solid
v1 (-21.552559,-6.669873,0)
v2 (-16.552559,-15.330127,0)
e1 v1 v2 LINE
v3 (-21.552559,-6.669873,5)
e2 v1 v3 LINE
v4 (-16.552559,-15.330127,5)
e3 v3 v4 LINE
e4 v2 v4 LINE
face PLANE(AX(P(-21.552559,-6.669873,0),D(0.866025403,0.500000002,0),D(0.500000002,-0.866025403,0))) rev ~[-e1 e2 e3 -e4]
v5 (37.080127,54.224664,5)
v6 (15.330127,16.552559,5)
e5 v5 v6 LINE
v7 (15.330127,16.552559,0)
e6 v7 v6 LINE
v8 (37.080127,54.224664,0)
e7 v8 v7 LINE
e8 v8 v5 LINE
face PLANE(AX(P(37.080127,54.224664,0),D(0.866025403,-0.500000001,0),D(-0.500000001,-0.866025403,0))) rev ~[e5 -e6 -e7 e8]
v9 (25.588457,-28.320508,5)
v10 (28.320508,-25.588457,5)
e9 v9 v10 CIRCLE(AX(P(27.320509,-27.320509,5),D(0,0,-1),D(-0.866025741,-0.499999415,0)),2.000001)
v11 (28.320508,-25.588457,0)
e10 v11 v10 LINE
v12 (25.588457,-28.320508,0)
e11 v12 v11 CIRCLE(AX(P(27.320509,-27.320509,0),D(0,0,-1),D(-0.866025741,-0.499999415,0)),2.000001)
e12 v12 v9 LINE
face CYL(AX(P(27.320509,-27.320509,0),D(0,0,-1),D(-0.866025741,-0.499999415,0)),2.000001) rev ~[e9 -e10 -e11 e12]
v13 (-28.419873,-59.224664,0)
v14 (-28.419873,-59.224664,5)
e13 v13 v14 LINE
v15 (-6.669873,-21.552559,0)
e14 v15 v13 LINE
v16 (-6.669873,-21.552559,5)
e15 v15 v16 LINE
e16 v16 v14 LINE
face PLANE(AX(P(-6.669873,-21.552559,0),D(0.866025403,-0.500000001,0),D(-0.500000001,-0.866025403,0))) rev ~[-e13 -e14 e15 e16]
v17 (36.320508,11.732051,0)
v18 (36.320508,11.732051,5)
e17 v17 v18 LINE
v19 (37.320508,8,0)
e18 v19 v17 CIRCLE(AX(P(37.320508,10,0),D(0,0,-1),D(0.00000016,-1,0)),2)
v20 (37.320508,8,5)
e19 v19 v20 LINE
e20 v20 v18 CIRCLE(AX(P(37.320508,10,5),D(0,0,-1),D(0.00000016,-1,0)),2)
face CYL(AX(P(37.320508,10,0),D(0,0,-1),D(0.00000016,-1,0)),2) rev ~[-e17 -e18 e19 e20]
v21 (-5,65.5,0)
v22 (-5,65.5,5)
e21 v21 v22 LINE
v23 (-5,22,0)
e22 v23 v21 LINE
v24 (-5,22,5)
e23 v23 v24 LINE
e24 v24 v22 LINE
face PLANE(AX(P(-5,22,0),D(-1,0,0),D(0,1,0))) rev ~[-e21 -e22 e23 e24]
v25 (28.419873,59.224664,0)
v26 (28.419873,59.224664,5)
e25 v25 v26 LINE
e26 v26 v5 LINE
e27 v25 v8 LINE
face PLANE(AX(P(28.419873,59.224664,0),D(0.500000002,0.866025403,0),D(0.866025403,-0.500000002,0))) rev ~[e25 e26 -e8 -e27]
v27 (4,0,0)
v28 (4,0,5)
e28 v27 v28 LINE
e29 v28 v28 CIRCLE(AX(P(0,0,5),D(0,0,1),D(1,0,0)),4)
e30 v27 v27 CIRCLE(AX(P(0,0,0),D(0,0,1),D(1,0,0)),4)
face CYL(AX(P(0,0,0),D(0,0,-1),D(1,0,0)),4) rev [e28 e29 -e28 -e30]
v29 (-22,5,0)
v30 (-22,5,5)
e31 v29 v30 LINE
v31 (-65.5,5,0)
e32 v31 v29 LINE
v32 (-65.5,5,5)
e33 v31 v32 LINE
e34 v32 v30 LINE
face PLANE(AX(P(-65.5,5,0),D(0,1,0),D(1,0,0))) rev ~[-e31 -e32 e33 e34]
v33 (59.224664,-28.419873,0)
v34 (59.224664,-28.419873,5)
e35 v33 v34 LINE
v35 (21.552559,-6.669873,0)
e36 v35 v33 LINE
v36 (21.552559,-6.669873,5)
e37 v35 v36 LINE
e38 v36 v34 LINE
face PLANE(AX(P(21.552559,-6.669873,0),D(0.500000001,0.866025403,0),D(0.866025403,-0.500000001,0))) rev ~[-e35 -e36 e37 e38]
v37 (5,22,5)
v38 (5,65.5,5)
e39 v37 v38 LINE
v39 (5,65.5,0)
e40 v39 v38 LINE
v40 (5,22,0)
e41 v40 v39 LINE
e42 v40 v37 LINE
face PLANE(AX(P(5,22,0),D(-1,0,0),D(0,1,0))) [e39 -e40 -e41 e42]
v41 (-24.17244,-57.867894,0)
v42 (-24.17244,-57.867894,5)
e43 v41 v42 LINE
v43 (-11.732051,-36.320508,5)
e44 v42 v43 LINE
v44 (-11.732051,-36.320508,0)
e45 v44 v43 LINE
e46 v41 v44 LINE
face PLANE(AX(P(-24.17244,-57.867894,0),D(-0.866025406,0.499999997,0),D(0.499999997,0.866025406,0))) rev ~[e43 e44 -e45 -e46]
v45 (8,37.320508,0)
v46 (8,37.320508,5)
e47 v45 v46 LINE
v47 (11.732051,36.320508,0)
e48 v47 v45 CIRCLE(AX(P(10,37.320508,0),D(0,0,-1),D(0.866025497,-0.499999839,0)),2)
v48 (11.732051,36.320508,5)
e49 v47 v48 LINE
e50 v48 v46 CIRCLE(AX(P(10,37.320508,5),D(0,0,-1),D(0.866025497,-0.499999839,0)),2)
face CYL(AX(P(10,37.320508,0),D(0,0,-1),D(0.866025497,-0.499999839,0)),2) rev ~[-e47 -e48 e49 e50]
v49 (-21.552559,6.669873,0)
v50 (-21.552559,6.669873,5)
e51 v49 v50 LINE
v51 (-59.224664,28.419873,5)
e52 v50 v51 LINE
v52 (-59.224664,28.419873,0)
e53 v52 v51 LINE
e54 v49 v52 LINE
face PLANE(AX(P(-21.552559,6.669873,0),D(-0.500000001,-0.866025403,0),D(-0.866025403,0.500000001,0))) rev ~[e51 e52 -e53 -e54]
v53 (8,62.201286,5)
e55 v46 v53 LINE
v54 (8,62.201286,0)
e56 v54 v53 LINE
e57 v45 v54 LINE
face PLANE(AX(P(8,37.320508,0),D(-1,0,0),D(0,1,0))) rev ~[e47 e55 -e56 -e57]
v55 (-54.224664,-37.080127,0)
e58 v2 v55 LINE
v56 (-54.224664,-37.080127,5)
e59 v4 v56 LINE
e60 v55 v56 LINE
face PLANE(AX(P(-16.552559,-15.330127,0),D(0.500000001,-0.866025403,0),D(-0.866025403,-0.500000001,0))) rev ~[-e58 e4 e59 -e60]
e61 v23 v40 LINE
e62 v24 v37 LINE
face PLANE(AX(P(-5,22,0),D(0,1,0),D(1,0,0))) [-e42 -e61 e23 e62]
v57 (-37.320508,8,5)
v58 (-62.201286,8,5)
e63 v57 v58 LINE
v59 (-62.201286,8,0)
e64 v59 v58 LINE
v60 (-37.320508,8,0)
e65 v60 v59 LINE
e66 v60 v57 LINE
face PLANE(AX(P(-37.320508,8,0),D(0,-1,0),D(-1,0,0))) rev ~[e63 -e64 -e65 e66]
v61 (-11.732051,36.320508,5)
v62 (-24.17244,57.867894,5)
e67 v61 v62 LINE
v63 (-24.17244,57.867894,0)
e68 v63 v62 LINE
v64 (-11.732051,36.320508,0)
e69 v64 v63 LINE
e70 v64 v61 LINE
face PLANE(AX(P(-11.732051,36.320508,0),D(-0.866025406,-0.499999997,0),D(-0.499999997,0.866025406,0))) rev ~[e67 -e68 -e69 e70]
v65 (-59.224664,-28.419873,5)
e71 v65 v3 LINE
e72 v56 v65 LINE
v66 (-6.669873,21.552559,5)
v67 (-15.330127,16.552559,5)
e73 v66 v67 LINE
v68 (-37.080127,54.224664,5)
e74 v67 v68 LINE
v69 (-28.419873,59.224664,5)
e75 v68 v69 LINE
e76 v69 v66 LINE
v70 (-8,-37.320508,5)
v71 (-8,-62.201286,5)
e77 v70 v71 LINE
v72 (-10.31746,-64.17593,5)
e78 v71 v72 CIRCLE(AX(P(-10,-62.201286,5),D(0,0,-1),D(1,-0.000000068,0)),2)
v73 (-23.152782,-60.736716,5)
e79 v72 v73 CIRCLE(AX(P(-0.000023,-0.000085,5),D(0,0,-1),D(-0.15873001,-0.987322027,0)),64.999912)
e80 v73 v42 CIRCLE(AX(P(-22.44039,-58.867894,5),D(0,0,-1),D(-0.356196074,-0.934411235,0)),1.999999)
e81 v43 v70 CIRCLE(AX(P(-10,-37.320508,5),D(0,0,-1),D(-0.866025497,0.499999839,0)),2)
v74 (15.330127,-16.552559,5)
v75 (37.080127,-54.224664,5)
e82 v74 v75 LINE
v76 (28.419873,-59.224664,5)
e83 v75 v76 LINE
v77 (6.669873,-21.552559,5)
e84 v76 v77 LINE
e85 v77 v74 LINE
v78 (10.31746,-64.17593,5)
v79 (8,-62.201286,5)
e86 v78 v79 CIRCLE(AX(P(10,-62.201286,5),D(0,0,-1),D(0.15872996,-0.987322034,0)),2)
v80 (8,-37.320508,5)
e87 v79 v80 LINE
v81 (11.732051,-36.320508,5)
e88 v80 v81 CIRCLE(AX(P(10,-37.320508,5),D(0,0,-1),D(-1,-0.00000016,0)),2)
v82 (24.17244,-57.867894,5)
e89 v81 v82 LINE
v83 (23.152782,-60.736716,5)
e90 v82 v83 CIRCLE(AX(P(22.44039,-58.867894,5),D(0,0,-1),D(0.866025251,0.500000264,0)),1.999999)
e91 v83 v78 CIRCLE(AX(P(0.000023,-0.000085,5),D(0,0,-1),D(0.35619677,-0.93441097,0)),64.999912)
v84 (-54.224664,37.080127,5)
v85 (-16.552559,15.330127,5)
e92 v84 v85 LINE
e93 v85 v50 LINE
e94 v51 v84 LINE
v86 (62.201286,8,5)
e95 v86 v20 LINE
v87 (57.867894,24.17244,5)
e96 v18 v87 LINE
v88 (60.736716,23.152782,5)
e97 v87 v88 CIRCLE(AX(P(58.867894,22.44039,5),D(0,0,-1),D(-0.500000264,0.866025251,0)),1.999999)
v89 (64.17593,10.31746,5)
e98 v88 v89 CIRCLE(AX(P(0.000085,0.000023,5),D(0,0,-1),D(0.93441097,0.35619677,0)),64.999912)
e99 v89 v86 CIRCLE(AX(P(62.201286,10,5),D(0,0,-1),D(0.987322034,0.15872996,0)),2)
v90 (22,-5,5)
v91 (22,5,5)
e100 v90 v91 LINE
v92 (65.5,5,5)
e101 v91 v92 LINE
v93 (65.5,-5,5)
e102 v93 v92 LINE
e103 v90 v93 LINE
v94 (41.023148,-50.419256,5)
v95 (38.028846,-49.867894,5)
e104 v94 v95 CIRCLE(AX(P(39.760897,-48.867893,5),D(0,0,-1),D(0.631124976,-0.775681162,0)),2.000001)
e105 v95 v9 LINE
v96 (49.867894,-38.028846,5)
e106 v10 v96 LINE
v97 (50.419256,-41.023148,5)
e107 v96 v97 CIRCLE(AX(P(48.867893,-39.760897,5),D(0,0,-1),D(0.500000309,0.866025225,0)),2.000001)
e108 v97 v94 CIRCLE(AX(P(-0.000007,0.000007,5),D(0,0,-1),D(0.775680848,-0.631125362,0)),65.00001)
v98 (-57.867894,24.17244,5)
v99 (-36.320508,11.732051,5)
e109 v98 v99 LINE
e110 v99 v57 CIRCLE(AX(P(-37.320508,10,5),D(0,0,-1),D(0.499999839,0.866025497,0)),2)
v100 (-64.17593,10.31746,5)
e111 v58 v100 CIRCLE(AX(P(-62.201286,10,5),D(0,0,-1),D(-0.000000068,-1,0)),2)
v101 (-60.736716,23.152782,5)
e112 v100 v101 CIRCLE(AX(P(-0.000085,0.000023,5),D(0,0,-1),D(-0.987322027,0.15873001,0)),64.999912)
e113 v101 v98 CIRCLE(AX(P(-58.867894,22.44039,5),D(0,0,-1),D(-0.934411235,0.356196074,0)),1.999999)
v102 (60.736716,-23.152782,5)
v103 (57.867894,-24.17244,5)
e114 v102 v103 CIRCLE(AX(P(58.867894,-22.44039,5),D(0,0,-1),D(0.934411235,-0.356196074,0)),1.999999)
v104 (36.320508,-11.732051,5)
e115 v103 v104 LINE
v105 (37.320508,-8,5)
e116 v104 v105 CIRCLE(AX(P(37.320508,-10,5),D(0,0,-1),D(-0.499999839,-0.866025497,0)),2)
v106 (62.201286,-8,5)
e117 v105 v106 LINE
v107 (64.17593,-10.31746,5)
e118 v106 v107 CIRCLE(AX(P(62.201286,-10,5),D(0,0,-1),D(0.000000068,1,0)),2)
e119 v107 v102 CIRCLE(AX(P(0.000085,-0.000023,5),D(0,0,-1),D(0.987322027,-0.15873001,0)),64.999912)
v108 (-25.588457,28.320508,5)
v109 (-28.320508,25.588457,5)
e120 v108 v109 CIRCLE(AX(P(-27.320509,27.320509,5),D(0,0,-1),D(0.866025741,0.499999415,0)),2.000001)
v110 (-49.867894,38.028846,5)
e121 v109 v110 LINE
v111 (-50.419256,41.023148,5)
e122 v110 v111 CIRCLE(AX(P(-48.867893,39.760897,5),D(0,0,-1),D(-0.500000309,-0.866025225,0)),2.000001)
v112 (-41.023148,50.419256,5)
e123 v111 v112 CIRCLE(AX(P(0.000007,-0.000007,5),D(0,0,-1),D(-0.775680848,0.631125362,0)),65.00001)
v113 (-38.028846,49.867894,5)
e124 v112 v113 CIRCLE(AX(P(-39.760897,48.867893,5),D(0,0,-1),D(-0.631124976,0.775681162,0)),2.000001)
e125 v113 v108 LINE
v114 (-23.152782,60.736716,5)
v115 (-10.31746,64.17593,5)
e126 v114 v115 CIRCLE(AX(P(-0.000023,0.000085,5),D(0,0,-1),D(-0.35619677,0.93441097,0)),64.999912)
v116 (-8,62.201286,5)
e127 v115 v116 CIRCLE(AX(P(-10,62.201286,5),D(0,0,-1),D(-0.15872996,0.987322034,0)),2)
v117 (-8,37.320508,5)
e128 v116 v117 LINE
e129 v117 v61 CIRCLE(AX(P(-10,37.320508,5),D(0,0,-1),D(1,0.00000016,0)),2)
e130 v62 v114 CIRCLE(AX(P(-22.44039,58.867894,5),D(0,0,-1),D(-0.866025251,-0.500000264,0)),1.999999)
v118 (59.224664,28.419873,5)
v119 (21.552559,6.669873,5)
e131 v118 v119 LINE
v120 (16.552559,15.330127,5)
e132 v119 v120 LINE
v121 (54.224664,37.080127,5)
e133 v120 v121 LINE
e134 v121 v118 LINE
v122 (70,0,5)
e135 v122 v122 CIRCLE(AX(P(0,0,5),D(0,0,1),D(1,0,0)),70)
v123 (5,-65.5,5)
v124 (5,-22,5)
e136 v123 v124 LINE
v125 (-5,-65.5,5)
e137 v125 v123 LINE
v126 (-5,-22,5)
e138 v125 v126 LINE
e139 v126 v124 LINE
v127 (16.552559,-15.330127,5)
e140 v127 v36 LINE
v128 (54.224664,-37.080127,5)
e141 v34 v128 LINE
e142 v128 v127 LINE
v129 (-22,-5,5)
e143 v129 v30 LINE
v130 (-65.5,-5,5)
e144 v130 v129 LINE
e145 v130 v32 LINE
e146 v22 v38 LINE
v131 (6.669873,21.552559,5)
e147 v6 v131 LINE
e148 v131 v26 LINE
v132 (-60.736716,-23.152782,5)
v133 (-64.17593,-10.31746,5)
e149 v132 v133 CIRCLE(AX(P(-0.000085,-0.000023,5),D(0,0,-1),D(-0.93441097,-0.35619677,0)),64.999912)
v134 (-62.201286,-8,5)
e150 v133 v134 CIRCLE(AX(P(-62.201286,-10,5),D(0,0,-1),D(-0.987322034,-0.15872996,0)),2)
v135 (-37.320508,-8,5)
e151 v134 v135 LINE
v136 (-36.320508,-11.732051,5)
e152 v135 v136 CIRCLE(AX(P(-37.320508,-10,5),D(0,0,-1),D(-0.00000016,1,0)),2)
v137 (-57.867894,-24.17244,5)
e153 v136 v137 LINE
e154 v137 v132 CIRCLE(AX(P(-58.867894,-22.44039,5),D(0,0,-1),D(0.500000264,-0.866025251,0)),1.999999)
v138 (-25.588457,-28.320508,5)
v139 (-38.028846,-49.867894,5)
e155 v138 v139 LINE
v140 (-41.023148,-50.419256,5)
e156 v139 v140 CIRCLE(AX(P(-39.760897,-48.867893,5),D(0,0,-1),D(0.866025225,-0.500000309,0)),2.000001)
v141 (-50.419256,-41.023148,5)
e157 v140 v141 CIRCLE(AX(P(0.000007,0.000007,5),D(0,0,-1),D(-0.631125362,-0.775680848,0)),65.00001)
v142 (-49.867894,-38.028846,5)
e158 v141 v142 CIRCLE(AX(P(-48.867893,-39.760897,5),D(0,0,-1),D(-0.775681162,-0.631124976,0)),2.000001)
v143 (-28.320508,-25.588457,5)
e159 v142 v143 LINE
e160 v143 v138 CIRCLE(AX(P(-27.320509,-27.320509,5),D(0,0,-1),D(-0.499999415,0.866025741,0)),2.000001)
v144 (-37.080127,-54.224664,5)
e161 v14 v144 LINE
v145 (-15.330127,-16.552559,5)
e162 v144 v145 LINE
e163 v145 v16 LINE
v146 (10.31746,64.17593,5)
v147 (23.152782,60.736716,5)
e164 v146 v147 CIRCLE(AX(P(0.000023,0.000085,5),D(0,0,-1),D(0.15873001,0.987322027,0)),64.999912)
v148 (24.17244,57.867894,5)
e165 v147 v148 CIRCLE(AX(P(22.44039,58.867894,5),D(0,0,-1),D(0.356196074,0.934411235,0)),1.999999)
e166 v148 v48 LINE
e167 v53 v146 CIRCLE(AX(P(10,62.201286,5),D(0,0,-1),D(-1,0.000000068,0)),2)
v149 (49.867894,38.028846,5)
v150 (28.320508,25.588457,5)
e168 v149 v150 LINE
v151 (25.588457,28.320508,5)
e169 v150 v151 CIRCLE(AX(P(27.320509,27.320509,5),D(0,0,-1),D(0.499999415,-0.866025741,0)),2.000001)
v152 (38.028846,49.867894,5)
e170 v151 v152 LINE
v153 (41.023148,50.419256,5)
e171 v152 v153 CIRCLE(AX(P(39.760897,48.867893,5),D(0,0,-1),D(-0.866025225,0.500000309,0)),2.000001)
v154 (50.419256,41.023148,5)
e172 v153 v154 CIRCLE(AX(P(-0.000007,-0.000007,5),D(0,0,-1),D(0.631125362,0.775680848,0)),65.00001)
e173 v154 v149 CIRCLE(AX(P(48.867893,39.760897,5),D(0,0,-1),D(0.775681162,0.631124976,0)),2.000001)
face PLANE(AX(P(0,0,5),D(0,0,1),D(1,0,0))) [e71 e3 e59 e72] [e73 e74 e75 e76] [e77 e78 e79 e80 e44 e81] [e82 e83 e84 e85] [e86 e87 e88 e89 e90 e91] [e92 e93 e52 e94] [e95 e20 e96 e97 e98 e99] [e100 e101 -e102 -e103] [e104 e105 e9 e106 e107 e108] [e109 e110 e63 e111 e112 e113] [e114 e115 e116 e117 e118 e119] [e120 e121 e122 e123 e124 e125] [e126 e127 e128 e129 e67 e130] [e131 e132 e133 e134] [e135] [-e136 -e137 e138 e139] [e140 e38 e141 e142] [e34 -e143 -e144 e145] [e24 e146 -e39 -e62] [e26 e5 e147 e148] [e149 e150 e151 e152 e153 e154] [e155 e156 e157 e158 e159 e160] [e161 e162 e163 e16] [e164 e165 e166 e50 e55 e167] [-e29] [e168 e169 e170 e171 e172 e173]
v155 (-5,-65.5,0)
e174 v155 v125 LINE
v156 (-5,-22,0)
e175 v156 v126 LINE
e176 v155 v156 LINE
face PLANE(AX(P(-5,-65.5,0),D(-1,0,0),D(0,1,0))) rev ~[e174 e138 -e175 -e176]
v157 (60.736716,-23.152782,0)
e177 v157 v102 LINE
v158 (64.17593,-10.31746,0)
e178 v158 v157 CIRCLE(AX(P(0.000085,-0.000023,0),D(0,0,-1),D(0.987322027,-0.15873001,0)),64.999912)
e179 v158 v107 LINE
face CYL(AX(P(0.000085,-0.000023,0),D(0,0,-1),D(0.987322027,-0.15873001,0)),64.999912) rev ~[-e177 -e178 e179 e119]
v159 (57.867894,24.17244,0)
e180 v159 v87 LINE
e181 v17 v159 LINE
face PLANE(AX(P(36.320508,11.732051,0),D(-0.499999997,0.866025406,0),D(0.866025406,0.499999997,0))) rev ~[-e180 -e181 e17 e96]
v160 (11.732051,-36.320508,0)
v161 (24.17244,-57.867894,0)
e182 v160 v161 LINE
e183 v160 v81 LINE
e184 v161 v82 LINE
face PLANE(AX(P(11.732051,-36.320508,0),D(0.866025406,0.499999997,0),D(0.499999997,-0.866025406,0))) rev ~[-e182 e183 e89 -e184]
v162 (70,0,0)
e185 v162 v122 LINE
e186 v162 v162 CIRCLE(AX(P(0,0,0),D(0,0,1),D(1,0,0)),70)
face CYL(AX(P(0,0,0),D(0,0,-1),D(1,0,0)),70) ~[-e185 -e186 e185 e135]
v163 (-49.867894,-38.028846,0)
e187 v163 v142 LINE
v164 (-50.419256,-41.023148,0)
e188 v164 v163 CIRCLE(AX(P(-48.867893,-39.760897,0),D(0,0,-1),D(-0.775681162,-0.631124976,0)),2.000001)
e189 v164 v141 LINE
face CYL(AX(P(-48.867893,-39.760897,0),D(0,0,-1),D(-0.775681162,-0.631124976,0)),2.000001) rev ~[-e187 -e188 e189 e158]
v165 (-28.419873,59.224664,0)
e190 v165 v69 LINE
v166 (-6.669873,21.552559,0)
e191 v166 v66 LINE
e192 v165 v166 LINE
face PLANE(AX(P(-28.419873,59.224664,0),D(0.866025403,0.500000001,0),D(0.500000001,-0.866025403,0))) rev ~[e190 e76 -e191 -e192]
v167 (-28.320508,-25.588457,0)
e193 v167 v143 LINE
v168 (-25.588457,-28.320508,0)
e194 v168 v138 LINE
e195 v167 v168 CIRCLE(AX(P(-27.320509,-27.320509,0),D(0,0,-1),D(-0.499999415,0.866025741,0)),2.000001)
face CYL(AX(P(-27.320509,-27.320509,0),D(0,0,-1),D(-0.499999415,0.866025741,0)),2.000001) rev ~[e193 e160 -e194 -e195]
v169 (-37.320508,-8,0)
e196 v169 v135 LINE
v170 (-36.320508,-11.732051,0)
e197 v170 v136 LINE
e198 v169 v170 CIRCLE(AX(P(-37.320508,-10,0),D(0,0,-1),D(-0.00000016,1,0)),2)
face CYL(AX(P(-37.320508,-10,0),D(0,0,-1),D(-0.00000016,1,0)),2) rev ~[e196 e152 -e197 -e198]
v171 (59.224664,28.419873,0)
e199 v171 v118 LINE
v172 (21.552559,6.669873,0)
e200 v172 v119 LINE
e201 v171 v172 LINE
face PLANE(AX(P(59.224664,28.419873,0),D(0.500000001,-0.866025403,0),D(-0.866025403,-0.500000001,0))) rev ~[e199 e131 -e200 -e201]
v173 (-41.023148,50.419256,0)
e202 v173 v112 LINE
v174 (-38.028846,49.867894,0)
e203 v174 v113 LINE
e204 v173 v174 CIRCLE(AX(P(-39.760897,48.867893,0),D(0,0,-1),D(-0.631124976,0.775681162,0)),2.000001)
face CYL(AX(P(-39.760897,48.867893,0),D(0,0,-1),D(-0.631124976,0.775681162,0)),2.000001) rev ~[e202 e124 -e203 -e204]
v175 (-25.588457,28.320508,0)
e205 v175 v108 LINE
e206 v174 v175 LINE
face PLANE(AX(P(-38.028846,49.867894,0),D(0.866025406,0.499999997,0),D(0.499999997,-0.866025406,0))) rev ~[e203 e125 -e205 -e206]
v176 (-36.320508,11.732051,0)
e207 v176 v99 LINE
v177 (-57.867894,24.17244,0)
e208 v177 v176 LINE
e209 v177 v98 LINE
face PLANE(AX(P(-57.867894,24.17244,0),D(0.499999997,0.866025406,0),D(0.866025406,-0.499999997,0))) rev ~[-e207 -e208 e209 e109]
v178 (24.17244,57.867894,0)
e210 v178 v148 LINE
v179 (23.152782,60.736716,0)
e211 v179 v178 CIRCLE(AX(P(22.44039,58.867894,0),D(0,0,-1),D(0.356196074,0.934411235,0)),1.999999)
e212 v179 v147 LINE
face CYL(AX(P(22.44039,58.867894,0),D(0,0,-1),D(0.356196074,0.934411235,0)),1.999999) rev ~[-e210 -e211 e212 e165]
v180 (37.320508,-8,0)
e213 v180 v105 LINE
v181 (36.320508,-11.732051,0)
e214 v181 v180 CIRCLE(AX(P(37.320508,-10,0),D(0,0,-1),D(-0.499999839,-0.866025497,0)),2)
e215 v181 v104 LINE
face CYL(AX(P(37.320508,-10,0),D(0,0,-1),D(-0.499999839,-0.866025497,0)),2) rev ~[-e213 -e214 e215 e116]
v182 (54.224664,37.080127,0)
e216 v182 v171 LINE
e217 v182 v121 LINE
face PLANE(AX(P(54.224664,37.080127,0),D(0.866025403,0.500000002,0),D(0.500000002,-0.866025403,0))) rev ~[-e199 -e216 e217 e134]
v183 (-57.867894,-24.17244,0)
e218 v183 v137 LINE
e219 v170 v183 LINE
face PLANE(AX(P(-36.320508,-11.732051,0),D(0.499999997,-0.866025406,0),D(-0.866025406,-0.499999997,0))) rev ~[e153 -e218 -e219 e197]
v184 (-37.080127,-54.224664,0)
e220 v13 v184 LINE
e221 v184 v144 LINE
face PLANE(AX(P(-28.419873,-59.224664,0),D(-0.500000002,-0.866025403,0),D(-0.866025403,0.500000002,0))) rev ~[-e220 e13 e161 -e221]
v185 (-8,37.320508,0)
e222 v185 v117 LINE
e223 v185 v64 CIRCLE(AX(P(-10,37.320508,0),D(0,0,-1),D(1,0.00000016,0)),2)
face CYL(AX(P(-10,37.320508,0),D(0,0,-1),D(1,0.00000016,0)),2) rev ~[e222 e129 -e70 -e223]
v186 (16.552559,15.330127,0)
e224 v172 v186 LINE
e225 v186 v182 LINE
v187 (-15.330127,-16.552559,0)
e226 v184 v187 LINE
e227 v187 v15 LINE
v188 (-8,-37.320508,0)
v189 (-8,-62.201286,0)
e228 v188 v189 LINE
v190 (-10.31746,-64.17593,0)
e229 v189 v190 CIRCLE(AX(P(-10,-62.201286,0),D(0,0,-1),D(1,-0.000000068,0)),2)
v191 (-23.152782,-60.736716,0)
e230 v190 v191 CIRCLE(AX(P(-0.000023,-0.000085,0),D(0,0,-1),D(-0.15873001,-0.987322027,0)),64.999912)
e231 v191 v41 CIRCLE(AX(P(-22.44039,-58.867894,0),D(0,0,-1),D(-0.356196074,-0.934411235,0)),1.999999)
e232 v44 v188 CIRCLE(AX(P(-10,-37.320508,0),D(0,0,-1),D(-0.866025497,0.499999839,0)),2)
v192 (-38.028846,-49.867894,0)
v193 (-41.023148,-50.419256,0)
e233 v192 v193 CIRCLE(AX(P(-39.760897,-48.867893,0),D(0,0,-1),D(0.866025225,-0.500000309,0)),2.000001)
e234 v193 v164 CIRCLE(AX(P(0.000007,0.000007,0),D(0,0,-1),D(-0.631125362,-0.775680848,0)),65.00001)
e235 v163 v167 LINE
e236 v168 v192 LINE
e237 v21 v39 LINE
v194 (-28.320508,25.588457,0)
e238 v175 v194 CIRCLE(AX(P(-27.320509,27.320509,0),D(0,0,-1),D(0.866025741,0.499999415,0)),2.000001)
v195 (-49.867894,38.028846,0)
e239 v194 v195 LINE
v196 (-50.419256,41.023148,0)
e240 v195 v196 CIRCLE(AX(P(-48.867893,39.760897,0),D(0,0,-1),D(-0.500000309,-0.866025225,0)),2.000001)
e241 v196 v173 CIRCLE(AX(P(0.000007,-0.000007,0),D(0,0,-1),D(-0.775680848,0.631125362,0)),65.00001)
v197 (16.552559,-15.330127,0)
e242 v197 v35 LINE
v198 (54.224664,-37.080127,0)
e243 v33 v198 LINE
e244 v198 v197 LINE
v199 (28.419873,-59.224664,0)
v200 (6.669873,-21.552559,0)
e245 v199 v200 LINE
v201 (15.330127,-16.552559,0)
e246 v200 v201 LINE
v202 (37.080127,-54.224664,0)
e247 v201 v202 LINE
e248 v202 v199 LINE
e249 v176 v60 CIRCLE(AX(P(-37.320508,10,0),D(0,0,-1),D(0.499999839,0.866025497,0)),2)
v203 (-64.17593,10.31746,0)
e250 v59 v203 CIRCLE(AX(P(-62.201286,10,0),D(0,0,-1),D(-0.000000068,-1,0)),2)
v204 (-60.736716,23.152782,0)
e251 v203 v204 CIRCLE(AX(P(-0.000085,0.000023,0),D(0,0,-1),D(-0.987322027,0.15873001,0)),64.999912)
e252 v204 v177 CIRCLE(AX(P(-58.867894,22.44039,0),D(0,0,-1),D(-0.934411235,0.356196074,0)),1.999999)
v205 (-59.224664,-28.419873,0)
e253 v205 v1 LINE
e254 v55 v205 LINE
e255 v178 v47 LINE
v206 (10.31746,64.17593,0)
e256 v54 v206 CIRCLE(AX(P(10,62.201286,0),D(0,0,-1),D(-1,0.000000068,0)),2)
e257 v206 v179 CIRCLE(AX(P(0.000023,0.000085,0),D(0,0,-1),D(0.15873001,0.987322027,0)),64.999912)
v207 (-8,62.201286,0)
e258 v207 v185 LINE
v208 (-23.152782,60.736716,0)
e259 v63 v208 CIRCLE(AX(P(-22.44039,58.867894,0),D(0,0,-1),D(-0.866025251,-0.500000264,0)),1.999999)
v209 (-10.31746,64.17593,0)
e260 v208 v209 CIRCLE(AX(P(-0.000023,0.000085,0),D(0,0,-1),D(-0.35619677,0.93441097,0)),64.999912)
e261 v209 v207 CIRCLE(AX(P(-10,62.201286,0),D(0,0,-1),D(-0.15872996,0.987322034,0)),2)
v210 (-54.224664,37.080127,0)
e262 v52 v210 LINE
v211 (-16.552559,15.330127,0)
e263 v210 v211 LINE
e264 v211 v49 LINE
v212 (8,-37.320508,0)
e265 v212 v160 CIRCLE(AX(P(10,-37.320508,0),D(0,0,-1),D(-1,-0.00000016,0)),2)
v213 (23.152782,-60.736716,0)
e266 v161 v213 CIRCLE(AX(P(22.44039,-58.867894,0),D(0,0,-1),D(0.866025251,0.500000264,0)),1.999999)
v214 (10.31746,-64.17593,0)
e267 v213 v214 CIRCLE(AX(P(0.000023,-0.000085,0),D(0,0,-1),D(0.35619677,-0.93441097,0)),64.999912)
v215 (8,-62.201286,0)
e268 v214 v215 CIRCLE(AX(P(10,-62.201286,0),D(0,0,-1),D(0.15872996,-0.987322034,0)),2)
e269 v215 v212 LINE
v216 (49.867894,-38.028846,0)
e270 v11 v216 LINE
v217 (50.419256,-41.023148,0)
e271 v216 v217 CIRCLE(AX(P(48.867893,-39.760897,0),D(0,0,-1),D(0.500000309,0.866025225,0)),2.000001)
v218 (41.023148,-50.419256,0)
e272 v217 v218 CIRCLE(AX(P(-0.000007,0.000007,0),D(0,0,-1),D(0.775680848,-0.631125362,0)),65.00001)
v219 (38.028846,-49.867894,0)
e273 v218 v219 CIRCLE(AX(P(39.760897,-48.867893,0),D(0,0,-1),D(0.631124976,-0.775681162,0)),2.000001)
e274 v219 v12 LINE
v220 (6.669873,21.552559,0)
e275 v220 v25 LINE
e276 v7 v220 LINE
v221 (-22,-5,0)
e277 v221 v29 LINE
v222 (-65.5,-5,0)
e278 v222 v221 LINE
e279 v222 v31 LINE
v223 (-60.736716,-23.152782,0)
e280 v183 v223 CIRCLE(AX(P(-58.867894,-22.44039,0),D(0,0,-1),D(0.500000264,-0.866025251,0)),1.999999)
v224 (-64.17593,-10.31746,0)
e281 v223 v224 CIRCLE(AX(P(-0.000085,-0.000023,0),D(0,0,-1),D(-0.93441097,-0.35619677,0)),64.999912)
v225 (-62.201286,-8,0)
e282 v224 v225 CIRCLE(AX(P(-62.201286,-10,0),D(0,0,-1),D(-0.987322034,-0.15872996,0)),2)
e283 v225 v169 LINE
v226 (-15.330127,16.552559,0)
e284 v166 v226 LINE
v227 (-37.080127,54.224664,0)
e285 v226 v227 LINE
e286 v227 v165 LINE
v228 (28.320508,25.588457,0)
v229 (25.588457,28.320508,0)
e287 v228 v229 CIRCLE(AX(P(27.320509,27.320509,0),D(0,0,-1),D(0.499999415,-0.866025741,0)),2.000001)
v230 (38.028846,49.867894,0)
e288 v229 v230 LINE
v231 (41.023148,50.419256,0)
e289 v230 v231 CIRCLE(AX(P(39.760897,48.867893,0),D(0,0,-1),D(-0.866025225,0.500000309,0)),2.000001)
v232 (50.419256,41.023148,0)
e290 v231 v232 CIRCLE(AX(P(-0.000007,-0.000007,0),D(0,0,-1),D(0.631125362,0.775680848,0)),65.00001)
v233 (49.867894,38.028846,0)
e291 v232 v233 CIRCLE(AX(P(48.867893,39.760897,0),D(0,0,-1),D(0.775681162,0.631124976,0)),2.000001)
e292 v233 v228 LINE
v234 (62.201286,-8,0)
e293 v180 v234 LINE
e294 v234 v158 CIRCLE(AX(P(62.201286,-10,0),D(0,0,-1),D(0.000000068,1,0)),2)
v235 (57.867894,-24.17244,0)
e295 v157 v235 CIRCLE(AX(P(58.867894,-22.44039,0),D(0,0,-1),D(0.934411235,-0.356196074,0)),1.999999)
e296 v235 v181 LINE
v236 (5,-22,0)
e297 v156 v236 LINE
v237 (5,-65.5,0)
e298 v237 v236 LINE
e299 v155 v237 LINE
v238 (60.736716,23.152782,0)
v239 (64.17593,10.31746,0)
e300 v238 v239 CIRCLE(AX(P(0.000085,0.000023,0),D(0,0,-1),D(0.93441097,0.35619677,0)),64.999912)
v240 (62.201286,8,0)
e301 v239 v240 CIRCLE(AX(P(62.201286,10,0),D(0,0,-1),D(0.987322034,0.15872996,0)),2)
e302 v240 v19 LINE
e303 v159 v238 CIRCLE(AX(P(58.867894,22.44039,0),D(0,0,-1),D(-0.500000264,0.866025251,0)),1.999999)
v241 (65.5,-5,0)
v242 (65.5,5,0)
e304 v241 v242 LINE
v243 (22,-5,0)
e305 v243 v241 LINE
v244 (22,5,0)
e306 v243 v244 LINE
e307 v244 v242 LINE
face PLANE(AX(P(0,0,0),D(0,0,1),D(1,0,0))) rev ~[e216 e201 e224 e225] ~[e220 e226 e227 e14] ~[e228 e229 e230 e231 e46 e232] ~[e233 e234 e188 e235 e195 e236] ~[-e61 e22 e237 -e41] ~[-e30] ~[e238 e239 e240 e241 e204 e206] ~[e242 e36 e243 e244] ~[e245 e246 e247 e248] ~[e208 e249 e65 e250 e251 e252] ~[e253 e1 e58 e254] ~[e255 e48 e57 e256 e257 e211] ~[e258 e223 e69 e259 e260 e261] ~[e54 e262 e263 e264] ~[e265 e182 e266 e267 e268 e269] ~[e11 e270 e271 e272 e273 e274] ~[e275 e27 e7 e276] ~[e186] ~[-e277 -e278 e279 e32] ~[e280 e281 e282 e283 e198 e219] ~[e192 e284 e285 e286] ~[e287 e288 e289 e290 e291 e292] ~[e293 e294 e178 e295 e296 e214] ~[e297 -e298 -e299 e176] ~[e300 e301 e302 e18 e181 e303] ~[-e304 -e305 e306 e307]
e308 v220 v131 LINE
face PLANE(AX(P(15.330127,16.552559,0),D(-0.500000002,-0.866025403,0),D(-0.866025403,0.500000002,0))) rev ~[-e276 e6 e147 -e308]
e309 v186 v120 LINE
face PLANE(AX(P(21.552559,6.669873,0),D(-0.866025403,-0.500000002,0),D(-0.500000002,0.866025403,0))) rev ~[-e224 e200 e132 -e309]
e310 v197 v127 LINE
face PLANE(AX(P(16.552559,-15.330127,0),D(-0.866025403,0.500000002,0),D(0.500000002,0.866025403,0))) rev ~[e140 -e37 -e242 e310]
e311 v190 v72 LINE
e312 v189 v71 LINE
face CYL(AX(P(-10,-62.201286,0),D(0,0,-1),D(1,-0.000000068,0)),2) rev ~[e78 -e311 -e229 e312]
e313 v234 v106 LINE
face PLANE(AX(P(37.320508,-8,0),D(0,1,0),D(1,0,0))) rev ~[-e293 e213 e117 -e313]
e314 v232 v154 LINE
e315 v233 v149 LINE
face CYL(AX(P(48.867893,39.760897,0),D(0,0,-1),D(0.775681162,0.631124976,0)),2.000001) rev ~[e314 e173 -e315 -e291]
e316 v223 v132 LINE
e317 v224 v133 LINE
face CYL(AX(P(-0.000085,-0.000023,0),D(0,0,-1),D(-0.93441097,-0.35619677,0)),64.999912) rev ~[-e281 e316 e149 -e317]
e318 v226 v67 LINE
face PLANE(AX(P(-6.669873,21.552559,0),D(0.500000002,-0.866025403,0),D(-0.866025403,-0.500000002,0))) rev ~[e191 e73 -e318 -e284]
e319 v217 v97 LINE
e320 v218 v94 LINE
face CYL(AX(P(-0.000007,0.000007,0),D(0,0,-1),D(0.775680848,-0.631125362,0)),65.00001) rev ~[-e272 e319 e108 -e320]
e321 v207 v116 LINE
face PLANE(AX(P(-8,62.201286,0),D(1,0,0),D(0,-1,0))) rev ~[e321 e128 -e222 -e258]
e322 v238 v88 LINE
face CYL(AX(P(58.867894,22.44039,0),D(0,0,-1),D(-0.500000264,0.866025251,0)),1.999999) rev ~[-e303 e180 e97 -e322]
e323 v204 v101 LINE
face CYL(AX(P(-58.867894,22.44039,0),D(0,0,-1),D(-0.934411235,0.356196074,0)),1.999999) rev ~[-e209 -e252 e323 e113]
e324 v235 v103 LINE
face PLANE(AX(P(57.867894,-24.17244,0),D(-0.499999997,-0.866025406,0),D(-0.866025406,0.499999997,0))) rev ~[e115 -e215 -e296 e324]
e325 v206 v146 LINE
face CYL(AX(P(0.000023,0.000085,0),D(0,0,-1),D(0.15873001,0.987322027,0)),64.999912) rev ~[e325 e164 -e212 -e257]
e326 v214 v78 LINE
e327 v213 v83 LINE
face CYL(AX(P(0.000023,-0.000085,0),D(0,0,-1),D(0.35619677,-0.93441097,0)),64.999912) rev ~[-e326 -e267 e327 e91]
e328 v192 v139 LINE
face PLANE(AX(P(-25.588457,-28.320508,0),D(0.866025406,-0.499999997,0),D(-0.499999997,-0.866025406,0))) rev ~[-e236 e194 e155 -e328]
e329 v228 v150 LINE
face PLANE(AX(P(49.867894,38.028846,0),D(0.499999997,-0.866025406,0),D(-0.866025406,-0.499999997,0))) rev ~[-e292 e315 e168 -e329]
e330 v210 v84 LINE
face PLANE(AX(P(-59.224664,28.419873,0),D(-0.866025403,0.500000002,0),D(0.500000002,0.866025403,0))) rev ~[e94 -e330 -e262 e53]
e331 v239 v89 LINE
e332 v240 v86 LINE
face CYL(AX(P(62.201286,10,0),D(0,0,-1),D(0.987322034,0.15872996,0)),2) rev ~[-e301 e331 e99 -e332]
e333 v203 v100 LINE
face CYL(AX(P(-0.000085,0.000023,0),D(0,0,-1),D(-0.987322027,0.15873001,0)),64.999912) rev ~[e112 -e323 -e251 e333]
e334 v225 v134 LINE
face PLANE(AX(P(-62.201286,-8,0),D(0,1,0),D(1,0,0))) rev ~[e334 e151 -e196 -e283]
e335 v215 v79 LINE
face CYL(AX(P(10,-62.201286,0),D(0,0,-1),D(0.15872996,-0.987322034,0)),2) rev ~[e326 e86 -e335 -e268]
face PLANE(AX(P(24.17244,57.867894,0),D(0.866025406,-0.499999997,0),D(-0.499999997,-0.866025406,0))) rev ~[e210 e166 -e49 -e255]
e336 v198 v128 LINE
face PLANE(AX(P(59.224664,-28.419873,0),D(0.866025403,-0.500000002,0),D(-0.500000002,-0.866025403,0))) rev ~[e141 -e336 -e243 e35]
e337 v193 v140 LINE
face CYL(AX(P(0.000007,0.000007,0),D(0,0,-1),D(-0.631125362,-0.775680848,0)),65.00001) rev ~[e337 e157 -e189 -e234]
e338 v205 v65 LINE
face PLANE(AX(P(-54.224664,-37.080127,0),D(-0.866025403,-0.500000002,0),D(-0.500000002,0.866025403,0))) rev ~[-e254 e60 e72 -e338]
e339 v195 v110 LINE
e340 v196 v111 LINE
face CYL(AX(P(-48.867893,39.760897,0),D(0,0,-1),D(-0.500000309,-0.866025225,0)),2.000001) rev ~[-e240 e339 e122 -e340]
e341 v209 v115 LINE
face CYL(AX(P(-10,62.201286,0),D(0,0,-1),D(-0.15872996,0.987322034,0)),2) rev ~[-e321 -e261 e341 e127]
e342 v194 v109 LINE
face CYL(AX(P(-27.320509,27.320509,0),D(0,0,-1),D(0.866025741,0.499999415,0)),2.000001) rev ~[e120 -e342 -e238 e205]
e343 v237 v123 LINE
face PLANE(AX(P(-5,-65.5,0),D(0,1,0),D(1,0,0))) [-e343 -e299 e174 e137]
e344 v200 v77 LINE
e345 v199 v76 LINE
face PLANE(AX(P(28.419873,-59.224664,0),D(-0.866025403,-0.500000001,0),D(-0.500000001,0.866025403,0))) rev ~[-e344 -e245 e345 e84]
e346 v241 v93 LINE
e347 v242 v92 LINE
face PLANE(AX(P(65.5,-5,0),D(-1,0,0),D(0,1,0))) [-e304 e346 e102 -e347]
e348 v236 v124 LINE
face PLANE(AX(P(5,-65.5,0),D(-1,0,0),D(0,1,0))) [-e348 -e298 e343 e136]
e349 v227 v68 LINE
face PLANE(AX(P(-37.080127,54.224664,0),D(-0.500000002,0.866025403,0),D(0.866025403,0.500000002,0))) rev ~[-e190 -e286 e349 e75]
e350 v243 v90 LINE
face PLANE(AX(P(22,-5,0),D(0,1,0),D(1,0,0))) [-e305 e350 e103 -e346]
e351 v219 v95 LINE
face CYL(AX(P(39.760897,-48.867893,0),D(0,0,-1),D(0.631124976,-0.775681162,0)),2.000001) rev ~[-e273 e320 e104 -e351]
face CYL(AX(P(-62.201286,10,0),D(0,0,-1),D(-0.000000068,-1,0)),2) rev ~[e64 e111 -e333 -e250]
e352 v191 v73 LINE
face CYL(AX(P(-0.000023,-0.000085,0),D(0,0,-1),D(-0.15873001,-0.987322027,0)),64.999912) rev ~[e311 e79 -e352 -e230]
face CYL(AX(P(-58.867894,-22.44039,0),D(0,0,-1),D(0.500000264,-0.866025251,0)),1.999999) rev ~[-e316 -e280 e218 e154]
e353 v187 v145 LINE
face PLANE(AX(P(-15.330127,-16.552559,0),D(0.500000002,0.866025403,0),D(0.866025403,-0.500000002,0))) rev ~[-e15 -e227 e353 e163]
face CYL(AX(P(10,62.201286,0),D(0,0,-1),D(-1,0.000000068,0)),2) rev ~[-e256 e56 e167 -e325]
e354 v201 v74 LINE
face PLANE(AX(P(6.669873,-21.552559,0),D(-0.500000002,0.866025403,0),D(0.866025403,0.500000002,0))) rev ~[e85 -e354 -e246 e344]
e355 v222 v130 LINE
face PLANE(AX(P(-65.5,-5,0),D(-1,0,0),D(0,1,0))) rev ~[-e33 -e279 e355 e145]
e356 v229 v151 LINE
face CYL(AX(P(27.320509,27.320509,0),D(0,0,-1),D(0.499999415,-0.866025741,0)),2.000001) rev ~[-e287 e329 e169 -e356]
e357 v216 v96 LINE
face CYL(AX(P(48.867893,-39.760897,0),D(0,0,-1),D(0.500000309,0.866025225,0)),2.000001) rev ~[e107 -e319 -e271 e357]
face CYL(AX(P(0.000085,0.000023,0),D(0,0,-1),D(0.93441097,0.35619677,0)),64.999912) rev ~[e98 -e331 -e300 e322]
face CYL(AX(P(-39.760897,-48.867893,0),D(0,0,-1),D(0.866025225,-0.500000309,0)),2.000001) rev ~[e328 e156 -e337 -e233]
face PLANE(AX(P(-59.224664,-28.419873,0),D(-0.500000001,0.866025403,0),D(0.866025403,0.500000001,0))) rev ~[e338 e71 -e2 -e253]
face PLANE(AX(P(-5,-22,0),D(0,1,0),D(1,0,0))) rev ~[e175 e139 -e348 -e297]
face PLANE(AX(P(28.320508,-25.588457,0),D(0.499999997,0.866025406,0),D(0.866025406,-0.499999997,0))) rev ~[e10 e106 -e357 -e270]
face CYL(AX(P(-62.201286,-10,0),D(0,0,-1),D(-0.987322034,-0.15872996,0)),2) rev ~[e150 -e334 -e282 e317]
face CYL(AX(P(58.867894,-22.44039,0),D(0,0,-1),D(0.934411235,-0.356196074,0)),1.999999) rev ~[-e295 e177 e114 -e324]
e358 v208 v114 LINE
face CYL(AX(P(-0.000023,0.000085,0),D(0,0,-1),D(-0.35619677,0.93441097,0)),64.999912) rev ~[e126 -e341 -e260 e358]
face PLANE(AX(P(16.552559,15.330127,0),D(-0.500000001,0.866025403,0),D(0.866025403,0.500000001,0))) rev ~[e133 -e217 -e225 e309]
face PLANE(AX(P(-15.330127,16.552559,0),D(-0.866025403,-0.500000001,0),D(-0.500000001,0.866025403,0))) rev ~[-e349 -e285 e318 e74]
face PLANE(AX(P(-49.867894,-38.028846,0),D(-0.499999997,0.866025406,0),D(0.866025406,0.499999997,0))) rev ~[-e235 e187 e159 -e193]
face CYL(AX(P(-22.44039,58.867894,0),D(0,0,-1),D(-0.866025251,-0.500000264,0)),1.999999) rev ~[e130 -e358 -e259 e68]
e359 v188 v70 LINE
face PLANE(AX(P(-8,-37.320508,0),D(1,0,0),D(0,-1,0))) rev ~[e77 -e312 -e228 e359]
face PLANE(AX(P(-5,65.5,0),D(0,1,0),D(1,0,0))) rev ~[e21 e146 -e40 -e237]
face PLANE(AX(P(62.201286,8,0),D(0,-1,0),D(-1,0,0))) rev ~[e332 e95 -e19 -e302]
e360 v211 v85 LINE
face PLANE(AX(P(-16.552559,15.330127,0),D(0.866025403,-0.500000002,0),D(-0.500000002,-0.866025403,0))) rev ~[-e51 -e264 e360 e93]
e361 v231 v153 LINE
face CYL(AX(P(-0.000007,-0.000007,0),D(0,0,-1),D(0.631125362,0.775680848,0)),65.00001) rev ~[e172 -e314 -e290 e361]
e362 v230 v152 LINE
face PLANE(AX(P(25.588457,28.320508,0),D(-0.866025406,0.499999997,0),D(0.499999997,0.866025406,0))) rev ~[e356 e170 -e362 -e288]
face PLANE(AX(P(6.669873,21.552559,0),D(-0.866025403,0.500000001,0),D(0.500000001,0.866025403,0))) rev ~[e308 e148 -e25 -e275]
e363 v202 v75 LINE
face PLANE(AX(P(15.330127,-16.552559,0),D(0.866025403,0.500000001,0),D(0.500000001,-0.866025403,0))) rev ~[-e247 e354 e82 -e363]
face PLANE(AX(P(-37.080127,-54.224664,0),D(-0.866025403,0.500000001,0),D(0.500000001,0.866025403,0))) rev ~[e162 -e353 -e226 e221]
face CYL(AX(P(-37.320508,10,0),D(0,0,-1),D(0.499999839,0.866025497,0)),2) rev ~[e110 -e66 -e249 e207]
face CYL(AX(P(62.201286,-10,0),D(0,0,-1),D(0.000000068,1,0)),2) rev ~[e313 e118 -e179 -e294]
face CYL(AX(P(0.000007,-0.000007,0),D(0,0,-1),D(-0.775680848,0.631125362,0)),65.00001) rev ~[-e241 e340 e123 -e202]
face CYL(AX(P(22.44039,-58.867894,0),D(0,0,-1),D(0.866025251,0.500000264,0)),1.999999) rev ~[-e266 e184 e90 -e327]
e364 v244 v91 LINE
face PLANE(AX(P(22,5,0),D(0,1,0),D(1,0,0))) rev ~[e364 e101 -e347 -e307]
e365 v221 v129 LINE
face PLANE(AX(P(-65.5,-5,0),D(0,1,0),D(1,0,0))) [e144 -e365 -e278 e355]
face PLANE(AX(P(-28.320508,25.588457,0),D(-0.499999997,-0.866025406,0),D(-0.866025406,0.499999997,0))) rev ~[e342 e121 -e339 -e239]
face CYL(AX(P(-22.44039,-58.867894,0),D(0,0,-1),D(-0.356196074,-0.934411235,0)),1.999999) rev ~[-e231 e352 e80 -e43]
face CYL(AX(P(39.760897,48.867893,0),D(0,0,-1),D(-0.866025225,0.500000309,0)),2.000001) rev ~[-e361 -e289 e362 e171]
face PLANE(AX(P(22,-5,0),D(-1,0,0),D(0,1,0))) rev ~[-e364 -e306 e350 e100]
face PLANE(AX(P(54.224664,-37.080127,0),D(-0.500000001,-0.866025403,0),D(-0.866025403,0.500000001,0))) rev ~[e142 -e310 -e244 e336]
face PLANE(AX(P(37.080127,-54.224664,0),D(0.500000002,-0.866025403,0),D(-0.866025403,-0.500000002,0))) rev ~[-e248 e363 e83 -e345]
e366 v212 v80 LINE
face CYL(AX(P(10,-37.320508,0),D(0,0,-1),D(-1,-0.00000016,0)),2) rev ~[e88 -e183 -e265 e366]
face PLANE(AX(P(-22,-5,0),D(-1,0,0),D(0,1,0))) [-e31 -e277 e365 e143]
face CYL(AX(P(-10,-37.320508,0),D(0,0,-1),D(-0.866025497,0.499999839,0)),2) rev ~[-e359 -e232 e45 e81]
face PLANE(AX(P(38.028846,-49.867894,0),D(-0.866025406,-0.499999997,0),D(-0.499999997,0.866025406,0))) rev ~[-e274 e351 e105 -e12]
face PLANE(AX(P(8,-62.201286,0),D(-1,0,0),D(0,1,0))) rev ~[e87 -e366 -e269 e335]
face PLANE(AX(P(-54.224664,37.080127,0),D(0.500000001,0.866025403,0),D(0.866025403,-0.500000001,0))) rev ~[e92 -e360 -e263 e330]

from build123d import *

# Parameters (mm, degrees)
F0_R     = 70
F0_W     = 10
F0_H     = 43.5
F0_W_2   = 43.5
F0_H_2   = 10
F0_R_2   = 4
F1_DEPTH = 5


with BuildPart() as f1:
    # F0 (on Top) → F1 (new body)
    with BuildSketch(Plane.XY):
        Circle(F0_R)
        with BuildLine():
            ThreePointArc((-50.419256, -41.023148), (-50.834826, -39.398712), (-49.867894, -38.028846))
            Line((-49.867894, -38.028846), (-28.320508, -25.588457))
            ThreePointArc((-28.320508, -25.588457), (-25.906295, -25.906295), (-25.588457, -28.320508))
            Line((-25.588457, -28.320508), (-38.028846, -49.867894))
            ThreePointArc((-38.028846, -49.867894), (-39.398712, -50.834826), (-41.023148, -50.419256))
            ThreePointArc((-41.023148, -50.419256), (-45.961941, -45.961941), (-50.419256, -41.023148))
        make_face(mode=Mode.SUBTRACT)
        Polygon((-6.669873, -21.552559), (-28.419873, -59.224664), (-37.080127, -54.224664), (-15.330127, -16.552559), align=None, mode=Mode.SUBTRACT)
        with BuildLine():
            ThreePointArc((-23.152782, -60.736716), (-24.324895, -59.537699), (-24.17244, -57.867894))
            Line((-24.17244, -57.867894), (-11.732051, -36.320508))
            ThreePointArc((-11.732051, -36.320508), (-9.482362, -35.388656), (-8, -37.320508))
            Line((-8, -37.320508), (-8, -62.201286))
            ThreePointArc((-8, -62.201286), (-8.702873, -63.723607), (-10.31746, -64.17593))
            ThreePointArc((-10.31746, -64.17593), (-16.823238, -62.785179), (-23.152782, -60.736716))
        make_face(mode=Mode.SUBTRACT)
        Polygon((-16.552559, -15.330127), (-54.224664, -37.080127), (-59.224664, -28.419873), (-21.552559, -6.669873), align=None, mode=Mode.SUBTRACT)
        with BuildLine():
            ThreePointArc((-64.17593, -10.31746), (-63.723607, -8.702873), (-62.201286, -8))
            Line((-62.201286, -8), (-37.320508, -8))
            ThreePointArc((-37.320508, -8), (-35.388656, -9.482362), (-36.320508, -11.732051))
            Line((-36.320508, -11.732051), (-57.867894, -24.17244))
            ThreePointArc((-57.867894, -24.17244), (-59.537699, -24.324895), (-60.736716, -23.152782))
            ThreePointArc((-60.736716, -23.152782), (-62.785179, -16.823238), (-64.17593, -10.31746))
        make_face(mode=Mode.SUBTRACT)
        with BuildLine():
            ThreePointArc((10.31746, -64.17593), (8.702873, -63.723607), (8, -62.201286))
            Line((8, -62.201286), (8, -37.320508))
            ThreePointArc((8, -37.320508), (9.482362, -35.388656), (11.732051, -36.320508))
            Line((11.732051, -36.320508), (24.17244, -57.867894))
            ThreePointArc((24.17244, -57.867894), (24.324895, -59.537699), (23.152782, -60.736716))
            ThreePointArc((23.152782, -60.736716), (16.823238, -62.785179), (10.31746, -64.17593))
        make_face(mode=Mode.SUBTRACT)
        with Locations((0, -43.75)):
            Rectangle(F0_W, F0_H, mode=Mode.SUBTRACT)
        Polygon((15.330127, -16.552559), (37.080127, -54.224664), (28.419873, -59.224664), (6.669873, -21.552559), align=None, mode=Mode.SUBTRACT)
        with BuildLine():
            ThreePointArc((41.023148, -50.419256), (39.398712, -50.834826), (38.028846, -49.867894))
            Line((38.028846, -49.867894), (25.588457, -28.320508))
            ThreePointArc((25.588457, -28.320508), (25.906295, -25.906295), (28.320508, -25.588457))
            Line((28.320508, -25.588457), (49.867894, -38.028846))
            ThreePointArc((49.867894, -38.028846), (50.834826, -39.398712), (50.419256, -41.023148))
            ThreePointArc((50.419256, -41.023148), (45.961941, -45.961941), (41.023148, -50.419256))
        make_face(mode=Mode.SUBTRACT)
        Polygon((21.552559, -6.669873), (59.224664, -28.419873), (54.224664, -37.080127), (16.552559, -15.330127), align=None, mode=Mode.SUBTRACT)
        with BuildLine():
            ThreePointArc((60.736716, -23.152782), (59.537699, -24.324895), (57.867894, -24.17244))
            Line((57.867894, -24.17244), (36.320508, -11.732051))
            ThreePointArc((36.320508, -11.732051), (35.388656, -9.482362), (37.320508, -8))
            Line((37.320508, -8), (62.201286, -8))
            ThreePointArc((62.201286, -8), (63.723607, -8.702873), (64.17593, -10.31746))
            ThreePointArc((64.17593, -10.31746), (62.785179, -16.823238), (60.736716, -23.152782))
        make_face(mode=Mode.SUBTRACT)
        with Locations((-43.75, 0)):
            Rectangle(F0_W_2, F0_H_2, mode=Mode.SUBTRACT)
        with BuildLine():
            ThreePointArc((-60.736716, 23.152782), (-59.537699, 24.324895), (-57.867894, 24.17244))
            Line((-57.867894, 24.17244), (-36.320508, 11.732051))
            ThreePointArc((-36.320508, 11.732051), (-35.388656, 9.482362), (-37.320508, 8))
            Line((-37.320508, 8), (-62.201286, 8))
            ThreePointArc((-62.201286, 8), (-63.723607, 8.702873), (-64.17593, 10.31746))
            ThreePointArc((-64.17593, 10.31746), (-62.785179, 16.823238), (-60.736716, 23.152782))
        make_face(mode=Mode.SUBTRACT)
        Polygon((-21.552559, 6.669873), (-59.224664, 28.419873), (-54.224664, 37.080127), (-16.552559, 15.330127), align=None, mode=Mode.SUBTRACT)
        with BuildLine():
            ThreePointArc((-41.023148, 50.419256), (-39.398712, 50.834826), (-38.028846, 49.867894))
            Line((-38.028846, 49.867894), (-25.588457, 28.320508))
            ThreePointArc((-25.588457, 28.320508), (-25.906295, 25.906295), (-28.320508, 25.588457))
            Line((-28.320508, 25.588457), (-49.867894, 38.028846))
            ThreePointArc((-49.867894, 38.028846), (-50.834826, 39.398712), (-50.419256, 41.023148))
            ThreePointArc((-50.419256, 41.023148), (-45.961941, 45.961941), (-41.023148, 50.419256))
        make_face(mode=Mode.SUBTRACT)
        Polygon((-15.330127, 16.552559), (-37.080127, 54.224664), (-28.419873, 59.224664), (-6.669873, 21.552559), align=None, mode=Mode.SUBTRACT)
        with BuildLine():
            Line((-11.732051, 36.320508), (-24.17244, 57.867894))
            ThreePointArc((-24.17244, 57.867894), (-24.324895, 59.537699), (-23.152782, 60.736716))
            ThreePointArc((-23.152782, 60.736716), (-16.823238, 62.785179), (-10.31746, 64.17593))
            ThreePointArc((-10.31746, 64.17593), (-8.702873, 63.723607), (-8, 62.201286))
            Line((-8, 62.201286), (-8, 37.320508))
            ThreePointArc((-8, 37.320508), (-9.482362, 35.388656), (-11.732051, 36.320508))
        make_face(mode=Mode.SUBTRACT)
        Circle(F0_R_2, mode=Mode.SUBTRACT)
        with Locations((43.75, 0)):
            Rectangle(F0_W_2, F0_H_2, mode=Mode.SUBTRACT)
        with BuildLine():
            ThreePointArc((64.17593, 10.31746), (63.723607, 8.702873), (62.201286, 8))
            Line((62.201286, 8), (37.320508, 8))
            ThreePointArc((37.320508, 8), (35.388656, 9.482362), (36.320508, 11.732051))
            Line((36.320508, 11.732051), (57.867894, 24.17244))
            ThreePointArc((57.867894, 24.17244), (59.537699, 24.324895), (60.736716, 23.152782))
            ThreePointArc((60.736716, 23.152782), (62.785179, 16.823238), (64.17593, 10.31746))
        make_face(mode=Mode.SUBTRACT)
        Polygon((16.552559, 15.330127), (54.224664, 37.080127), (59.224664, 28.419873), (21.552559, 6.669873), align=None, mode=Mode.SUBTRACT)
        with Locations((0, 43.75)):
            Rectangle(F0_W, F0_H, mode=Mode.SUBTRACT)
        with BuildLine():
            Line((8, 37.320508), (8, 62.201286))
            ThreePointArc((8, 62.201286), (8.702873, 63.723607), (10.31746, 64.17593))
            ThreePointArc((10.31746, 64.17593), (16.823238, 62.785179), (23.152782, 60.736716))
            ThreePointArc((23.152782, 60.736716), (24.324895, 59.537699), (24.17244, 57.867894))
            Line((24.17244, 57.867894), (11.732051, 36.320508))
            ThreePointArc((11.732051, 36.320508), (9.482362, 35.388656), (8, 37.320508))
        make_face(mode=Mode.SUBTRACT)
        Polygon((6.669873, 21.552559), (28.419873, 59.224664), (37.080127, 54.224664), (15.330127, 16.552559), align=None, mode=Mode.SUBTRACT)
        with BuildLine():
            Line((25.588457, 28.320508), (38.028846, 49.867894))
            ThreePointArc((38.028846, 49.867894), (39.398712, 50.834826), (41.023148, 50.419256))
            ThreePointArc((41.023148, 50.419256), (45.961941, 45.961941), (50.419256, 41.023148))
            ThreePointArc((50.419256, 41.023148), (50.834826, 39.398712), (49.867894, 38.028846))
            Line((49.867894, 38.028846), (28.320508, 25.588457))
            ThreePointArc((28.320508, 25.588457), (25.906295, 25.906295), (25.588457, 28.320508))
        make_face(mode=Mode.SUBTRACT)
    extrude(amount=F1_DEPTH)


solid = f1.part
